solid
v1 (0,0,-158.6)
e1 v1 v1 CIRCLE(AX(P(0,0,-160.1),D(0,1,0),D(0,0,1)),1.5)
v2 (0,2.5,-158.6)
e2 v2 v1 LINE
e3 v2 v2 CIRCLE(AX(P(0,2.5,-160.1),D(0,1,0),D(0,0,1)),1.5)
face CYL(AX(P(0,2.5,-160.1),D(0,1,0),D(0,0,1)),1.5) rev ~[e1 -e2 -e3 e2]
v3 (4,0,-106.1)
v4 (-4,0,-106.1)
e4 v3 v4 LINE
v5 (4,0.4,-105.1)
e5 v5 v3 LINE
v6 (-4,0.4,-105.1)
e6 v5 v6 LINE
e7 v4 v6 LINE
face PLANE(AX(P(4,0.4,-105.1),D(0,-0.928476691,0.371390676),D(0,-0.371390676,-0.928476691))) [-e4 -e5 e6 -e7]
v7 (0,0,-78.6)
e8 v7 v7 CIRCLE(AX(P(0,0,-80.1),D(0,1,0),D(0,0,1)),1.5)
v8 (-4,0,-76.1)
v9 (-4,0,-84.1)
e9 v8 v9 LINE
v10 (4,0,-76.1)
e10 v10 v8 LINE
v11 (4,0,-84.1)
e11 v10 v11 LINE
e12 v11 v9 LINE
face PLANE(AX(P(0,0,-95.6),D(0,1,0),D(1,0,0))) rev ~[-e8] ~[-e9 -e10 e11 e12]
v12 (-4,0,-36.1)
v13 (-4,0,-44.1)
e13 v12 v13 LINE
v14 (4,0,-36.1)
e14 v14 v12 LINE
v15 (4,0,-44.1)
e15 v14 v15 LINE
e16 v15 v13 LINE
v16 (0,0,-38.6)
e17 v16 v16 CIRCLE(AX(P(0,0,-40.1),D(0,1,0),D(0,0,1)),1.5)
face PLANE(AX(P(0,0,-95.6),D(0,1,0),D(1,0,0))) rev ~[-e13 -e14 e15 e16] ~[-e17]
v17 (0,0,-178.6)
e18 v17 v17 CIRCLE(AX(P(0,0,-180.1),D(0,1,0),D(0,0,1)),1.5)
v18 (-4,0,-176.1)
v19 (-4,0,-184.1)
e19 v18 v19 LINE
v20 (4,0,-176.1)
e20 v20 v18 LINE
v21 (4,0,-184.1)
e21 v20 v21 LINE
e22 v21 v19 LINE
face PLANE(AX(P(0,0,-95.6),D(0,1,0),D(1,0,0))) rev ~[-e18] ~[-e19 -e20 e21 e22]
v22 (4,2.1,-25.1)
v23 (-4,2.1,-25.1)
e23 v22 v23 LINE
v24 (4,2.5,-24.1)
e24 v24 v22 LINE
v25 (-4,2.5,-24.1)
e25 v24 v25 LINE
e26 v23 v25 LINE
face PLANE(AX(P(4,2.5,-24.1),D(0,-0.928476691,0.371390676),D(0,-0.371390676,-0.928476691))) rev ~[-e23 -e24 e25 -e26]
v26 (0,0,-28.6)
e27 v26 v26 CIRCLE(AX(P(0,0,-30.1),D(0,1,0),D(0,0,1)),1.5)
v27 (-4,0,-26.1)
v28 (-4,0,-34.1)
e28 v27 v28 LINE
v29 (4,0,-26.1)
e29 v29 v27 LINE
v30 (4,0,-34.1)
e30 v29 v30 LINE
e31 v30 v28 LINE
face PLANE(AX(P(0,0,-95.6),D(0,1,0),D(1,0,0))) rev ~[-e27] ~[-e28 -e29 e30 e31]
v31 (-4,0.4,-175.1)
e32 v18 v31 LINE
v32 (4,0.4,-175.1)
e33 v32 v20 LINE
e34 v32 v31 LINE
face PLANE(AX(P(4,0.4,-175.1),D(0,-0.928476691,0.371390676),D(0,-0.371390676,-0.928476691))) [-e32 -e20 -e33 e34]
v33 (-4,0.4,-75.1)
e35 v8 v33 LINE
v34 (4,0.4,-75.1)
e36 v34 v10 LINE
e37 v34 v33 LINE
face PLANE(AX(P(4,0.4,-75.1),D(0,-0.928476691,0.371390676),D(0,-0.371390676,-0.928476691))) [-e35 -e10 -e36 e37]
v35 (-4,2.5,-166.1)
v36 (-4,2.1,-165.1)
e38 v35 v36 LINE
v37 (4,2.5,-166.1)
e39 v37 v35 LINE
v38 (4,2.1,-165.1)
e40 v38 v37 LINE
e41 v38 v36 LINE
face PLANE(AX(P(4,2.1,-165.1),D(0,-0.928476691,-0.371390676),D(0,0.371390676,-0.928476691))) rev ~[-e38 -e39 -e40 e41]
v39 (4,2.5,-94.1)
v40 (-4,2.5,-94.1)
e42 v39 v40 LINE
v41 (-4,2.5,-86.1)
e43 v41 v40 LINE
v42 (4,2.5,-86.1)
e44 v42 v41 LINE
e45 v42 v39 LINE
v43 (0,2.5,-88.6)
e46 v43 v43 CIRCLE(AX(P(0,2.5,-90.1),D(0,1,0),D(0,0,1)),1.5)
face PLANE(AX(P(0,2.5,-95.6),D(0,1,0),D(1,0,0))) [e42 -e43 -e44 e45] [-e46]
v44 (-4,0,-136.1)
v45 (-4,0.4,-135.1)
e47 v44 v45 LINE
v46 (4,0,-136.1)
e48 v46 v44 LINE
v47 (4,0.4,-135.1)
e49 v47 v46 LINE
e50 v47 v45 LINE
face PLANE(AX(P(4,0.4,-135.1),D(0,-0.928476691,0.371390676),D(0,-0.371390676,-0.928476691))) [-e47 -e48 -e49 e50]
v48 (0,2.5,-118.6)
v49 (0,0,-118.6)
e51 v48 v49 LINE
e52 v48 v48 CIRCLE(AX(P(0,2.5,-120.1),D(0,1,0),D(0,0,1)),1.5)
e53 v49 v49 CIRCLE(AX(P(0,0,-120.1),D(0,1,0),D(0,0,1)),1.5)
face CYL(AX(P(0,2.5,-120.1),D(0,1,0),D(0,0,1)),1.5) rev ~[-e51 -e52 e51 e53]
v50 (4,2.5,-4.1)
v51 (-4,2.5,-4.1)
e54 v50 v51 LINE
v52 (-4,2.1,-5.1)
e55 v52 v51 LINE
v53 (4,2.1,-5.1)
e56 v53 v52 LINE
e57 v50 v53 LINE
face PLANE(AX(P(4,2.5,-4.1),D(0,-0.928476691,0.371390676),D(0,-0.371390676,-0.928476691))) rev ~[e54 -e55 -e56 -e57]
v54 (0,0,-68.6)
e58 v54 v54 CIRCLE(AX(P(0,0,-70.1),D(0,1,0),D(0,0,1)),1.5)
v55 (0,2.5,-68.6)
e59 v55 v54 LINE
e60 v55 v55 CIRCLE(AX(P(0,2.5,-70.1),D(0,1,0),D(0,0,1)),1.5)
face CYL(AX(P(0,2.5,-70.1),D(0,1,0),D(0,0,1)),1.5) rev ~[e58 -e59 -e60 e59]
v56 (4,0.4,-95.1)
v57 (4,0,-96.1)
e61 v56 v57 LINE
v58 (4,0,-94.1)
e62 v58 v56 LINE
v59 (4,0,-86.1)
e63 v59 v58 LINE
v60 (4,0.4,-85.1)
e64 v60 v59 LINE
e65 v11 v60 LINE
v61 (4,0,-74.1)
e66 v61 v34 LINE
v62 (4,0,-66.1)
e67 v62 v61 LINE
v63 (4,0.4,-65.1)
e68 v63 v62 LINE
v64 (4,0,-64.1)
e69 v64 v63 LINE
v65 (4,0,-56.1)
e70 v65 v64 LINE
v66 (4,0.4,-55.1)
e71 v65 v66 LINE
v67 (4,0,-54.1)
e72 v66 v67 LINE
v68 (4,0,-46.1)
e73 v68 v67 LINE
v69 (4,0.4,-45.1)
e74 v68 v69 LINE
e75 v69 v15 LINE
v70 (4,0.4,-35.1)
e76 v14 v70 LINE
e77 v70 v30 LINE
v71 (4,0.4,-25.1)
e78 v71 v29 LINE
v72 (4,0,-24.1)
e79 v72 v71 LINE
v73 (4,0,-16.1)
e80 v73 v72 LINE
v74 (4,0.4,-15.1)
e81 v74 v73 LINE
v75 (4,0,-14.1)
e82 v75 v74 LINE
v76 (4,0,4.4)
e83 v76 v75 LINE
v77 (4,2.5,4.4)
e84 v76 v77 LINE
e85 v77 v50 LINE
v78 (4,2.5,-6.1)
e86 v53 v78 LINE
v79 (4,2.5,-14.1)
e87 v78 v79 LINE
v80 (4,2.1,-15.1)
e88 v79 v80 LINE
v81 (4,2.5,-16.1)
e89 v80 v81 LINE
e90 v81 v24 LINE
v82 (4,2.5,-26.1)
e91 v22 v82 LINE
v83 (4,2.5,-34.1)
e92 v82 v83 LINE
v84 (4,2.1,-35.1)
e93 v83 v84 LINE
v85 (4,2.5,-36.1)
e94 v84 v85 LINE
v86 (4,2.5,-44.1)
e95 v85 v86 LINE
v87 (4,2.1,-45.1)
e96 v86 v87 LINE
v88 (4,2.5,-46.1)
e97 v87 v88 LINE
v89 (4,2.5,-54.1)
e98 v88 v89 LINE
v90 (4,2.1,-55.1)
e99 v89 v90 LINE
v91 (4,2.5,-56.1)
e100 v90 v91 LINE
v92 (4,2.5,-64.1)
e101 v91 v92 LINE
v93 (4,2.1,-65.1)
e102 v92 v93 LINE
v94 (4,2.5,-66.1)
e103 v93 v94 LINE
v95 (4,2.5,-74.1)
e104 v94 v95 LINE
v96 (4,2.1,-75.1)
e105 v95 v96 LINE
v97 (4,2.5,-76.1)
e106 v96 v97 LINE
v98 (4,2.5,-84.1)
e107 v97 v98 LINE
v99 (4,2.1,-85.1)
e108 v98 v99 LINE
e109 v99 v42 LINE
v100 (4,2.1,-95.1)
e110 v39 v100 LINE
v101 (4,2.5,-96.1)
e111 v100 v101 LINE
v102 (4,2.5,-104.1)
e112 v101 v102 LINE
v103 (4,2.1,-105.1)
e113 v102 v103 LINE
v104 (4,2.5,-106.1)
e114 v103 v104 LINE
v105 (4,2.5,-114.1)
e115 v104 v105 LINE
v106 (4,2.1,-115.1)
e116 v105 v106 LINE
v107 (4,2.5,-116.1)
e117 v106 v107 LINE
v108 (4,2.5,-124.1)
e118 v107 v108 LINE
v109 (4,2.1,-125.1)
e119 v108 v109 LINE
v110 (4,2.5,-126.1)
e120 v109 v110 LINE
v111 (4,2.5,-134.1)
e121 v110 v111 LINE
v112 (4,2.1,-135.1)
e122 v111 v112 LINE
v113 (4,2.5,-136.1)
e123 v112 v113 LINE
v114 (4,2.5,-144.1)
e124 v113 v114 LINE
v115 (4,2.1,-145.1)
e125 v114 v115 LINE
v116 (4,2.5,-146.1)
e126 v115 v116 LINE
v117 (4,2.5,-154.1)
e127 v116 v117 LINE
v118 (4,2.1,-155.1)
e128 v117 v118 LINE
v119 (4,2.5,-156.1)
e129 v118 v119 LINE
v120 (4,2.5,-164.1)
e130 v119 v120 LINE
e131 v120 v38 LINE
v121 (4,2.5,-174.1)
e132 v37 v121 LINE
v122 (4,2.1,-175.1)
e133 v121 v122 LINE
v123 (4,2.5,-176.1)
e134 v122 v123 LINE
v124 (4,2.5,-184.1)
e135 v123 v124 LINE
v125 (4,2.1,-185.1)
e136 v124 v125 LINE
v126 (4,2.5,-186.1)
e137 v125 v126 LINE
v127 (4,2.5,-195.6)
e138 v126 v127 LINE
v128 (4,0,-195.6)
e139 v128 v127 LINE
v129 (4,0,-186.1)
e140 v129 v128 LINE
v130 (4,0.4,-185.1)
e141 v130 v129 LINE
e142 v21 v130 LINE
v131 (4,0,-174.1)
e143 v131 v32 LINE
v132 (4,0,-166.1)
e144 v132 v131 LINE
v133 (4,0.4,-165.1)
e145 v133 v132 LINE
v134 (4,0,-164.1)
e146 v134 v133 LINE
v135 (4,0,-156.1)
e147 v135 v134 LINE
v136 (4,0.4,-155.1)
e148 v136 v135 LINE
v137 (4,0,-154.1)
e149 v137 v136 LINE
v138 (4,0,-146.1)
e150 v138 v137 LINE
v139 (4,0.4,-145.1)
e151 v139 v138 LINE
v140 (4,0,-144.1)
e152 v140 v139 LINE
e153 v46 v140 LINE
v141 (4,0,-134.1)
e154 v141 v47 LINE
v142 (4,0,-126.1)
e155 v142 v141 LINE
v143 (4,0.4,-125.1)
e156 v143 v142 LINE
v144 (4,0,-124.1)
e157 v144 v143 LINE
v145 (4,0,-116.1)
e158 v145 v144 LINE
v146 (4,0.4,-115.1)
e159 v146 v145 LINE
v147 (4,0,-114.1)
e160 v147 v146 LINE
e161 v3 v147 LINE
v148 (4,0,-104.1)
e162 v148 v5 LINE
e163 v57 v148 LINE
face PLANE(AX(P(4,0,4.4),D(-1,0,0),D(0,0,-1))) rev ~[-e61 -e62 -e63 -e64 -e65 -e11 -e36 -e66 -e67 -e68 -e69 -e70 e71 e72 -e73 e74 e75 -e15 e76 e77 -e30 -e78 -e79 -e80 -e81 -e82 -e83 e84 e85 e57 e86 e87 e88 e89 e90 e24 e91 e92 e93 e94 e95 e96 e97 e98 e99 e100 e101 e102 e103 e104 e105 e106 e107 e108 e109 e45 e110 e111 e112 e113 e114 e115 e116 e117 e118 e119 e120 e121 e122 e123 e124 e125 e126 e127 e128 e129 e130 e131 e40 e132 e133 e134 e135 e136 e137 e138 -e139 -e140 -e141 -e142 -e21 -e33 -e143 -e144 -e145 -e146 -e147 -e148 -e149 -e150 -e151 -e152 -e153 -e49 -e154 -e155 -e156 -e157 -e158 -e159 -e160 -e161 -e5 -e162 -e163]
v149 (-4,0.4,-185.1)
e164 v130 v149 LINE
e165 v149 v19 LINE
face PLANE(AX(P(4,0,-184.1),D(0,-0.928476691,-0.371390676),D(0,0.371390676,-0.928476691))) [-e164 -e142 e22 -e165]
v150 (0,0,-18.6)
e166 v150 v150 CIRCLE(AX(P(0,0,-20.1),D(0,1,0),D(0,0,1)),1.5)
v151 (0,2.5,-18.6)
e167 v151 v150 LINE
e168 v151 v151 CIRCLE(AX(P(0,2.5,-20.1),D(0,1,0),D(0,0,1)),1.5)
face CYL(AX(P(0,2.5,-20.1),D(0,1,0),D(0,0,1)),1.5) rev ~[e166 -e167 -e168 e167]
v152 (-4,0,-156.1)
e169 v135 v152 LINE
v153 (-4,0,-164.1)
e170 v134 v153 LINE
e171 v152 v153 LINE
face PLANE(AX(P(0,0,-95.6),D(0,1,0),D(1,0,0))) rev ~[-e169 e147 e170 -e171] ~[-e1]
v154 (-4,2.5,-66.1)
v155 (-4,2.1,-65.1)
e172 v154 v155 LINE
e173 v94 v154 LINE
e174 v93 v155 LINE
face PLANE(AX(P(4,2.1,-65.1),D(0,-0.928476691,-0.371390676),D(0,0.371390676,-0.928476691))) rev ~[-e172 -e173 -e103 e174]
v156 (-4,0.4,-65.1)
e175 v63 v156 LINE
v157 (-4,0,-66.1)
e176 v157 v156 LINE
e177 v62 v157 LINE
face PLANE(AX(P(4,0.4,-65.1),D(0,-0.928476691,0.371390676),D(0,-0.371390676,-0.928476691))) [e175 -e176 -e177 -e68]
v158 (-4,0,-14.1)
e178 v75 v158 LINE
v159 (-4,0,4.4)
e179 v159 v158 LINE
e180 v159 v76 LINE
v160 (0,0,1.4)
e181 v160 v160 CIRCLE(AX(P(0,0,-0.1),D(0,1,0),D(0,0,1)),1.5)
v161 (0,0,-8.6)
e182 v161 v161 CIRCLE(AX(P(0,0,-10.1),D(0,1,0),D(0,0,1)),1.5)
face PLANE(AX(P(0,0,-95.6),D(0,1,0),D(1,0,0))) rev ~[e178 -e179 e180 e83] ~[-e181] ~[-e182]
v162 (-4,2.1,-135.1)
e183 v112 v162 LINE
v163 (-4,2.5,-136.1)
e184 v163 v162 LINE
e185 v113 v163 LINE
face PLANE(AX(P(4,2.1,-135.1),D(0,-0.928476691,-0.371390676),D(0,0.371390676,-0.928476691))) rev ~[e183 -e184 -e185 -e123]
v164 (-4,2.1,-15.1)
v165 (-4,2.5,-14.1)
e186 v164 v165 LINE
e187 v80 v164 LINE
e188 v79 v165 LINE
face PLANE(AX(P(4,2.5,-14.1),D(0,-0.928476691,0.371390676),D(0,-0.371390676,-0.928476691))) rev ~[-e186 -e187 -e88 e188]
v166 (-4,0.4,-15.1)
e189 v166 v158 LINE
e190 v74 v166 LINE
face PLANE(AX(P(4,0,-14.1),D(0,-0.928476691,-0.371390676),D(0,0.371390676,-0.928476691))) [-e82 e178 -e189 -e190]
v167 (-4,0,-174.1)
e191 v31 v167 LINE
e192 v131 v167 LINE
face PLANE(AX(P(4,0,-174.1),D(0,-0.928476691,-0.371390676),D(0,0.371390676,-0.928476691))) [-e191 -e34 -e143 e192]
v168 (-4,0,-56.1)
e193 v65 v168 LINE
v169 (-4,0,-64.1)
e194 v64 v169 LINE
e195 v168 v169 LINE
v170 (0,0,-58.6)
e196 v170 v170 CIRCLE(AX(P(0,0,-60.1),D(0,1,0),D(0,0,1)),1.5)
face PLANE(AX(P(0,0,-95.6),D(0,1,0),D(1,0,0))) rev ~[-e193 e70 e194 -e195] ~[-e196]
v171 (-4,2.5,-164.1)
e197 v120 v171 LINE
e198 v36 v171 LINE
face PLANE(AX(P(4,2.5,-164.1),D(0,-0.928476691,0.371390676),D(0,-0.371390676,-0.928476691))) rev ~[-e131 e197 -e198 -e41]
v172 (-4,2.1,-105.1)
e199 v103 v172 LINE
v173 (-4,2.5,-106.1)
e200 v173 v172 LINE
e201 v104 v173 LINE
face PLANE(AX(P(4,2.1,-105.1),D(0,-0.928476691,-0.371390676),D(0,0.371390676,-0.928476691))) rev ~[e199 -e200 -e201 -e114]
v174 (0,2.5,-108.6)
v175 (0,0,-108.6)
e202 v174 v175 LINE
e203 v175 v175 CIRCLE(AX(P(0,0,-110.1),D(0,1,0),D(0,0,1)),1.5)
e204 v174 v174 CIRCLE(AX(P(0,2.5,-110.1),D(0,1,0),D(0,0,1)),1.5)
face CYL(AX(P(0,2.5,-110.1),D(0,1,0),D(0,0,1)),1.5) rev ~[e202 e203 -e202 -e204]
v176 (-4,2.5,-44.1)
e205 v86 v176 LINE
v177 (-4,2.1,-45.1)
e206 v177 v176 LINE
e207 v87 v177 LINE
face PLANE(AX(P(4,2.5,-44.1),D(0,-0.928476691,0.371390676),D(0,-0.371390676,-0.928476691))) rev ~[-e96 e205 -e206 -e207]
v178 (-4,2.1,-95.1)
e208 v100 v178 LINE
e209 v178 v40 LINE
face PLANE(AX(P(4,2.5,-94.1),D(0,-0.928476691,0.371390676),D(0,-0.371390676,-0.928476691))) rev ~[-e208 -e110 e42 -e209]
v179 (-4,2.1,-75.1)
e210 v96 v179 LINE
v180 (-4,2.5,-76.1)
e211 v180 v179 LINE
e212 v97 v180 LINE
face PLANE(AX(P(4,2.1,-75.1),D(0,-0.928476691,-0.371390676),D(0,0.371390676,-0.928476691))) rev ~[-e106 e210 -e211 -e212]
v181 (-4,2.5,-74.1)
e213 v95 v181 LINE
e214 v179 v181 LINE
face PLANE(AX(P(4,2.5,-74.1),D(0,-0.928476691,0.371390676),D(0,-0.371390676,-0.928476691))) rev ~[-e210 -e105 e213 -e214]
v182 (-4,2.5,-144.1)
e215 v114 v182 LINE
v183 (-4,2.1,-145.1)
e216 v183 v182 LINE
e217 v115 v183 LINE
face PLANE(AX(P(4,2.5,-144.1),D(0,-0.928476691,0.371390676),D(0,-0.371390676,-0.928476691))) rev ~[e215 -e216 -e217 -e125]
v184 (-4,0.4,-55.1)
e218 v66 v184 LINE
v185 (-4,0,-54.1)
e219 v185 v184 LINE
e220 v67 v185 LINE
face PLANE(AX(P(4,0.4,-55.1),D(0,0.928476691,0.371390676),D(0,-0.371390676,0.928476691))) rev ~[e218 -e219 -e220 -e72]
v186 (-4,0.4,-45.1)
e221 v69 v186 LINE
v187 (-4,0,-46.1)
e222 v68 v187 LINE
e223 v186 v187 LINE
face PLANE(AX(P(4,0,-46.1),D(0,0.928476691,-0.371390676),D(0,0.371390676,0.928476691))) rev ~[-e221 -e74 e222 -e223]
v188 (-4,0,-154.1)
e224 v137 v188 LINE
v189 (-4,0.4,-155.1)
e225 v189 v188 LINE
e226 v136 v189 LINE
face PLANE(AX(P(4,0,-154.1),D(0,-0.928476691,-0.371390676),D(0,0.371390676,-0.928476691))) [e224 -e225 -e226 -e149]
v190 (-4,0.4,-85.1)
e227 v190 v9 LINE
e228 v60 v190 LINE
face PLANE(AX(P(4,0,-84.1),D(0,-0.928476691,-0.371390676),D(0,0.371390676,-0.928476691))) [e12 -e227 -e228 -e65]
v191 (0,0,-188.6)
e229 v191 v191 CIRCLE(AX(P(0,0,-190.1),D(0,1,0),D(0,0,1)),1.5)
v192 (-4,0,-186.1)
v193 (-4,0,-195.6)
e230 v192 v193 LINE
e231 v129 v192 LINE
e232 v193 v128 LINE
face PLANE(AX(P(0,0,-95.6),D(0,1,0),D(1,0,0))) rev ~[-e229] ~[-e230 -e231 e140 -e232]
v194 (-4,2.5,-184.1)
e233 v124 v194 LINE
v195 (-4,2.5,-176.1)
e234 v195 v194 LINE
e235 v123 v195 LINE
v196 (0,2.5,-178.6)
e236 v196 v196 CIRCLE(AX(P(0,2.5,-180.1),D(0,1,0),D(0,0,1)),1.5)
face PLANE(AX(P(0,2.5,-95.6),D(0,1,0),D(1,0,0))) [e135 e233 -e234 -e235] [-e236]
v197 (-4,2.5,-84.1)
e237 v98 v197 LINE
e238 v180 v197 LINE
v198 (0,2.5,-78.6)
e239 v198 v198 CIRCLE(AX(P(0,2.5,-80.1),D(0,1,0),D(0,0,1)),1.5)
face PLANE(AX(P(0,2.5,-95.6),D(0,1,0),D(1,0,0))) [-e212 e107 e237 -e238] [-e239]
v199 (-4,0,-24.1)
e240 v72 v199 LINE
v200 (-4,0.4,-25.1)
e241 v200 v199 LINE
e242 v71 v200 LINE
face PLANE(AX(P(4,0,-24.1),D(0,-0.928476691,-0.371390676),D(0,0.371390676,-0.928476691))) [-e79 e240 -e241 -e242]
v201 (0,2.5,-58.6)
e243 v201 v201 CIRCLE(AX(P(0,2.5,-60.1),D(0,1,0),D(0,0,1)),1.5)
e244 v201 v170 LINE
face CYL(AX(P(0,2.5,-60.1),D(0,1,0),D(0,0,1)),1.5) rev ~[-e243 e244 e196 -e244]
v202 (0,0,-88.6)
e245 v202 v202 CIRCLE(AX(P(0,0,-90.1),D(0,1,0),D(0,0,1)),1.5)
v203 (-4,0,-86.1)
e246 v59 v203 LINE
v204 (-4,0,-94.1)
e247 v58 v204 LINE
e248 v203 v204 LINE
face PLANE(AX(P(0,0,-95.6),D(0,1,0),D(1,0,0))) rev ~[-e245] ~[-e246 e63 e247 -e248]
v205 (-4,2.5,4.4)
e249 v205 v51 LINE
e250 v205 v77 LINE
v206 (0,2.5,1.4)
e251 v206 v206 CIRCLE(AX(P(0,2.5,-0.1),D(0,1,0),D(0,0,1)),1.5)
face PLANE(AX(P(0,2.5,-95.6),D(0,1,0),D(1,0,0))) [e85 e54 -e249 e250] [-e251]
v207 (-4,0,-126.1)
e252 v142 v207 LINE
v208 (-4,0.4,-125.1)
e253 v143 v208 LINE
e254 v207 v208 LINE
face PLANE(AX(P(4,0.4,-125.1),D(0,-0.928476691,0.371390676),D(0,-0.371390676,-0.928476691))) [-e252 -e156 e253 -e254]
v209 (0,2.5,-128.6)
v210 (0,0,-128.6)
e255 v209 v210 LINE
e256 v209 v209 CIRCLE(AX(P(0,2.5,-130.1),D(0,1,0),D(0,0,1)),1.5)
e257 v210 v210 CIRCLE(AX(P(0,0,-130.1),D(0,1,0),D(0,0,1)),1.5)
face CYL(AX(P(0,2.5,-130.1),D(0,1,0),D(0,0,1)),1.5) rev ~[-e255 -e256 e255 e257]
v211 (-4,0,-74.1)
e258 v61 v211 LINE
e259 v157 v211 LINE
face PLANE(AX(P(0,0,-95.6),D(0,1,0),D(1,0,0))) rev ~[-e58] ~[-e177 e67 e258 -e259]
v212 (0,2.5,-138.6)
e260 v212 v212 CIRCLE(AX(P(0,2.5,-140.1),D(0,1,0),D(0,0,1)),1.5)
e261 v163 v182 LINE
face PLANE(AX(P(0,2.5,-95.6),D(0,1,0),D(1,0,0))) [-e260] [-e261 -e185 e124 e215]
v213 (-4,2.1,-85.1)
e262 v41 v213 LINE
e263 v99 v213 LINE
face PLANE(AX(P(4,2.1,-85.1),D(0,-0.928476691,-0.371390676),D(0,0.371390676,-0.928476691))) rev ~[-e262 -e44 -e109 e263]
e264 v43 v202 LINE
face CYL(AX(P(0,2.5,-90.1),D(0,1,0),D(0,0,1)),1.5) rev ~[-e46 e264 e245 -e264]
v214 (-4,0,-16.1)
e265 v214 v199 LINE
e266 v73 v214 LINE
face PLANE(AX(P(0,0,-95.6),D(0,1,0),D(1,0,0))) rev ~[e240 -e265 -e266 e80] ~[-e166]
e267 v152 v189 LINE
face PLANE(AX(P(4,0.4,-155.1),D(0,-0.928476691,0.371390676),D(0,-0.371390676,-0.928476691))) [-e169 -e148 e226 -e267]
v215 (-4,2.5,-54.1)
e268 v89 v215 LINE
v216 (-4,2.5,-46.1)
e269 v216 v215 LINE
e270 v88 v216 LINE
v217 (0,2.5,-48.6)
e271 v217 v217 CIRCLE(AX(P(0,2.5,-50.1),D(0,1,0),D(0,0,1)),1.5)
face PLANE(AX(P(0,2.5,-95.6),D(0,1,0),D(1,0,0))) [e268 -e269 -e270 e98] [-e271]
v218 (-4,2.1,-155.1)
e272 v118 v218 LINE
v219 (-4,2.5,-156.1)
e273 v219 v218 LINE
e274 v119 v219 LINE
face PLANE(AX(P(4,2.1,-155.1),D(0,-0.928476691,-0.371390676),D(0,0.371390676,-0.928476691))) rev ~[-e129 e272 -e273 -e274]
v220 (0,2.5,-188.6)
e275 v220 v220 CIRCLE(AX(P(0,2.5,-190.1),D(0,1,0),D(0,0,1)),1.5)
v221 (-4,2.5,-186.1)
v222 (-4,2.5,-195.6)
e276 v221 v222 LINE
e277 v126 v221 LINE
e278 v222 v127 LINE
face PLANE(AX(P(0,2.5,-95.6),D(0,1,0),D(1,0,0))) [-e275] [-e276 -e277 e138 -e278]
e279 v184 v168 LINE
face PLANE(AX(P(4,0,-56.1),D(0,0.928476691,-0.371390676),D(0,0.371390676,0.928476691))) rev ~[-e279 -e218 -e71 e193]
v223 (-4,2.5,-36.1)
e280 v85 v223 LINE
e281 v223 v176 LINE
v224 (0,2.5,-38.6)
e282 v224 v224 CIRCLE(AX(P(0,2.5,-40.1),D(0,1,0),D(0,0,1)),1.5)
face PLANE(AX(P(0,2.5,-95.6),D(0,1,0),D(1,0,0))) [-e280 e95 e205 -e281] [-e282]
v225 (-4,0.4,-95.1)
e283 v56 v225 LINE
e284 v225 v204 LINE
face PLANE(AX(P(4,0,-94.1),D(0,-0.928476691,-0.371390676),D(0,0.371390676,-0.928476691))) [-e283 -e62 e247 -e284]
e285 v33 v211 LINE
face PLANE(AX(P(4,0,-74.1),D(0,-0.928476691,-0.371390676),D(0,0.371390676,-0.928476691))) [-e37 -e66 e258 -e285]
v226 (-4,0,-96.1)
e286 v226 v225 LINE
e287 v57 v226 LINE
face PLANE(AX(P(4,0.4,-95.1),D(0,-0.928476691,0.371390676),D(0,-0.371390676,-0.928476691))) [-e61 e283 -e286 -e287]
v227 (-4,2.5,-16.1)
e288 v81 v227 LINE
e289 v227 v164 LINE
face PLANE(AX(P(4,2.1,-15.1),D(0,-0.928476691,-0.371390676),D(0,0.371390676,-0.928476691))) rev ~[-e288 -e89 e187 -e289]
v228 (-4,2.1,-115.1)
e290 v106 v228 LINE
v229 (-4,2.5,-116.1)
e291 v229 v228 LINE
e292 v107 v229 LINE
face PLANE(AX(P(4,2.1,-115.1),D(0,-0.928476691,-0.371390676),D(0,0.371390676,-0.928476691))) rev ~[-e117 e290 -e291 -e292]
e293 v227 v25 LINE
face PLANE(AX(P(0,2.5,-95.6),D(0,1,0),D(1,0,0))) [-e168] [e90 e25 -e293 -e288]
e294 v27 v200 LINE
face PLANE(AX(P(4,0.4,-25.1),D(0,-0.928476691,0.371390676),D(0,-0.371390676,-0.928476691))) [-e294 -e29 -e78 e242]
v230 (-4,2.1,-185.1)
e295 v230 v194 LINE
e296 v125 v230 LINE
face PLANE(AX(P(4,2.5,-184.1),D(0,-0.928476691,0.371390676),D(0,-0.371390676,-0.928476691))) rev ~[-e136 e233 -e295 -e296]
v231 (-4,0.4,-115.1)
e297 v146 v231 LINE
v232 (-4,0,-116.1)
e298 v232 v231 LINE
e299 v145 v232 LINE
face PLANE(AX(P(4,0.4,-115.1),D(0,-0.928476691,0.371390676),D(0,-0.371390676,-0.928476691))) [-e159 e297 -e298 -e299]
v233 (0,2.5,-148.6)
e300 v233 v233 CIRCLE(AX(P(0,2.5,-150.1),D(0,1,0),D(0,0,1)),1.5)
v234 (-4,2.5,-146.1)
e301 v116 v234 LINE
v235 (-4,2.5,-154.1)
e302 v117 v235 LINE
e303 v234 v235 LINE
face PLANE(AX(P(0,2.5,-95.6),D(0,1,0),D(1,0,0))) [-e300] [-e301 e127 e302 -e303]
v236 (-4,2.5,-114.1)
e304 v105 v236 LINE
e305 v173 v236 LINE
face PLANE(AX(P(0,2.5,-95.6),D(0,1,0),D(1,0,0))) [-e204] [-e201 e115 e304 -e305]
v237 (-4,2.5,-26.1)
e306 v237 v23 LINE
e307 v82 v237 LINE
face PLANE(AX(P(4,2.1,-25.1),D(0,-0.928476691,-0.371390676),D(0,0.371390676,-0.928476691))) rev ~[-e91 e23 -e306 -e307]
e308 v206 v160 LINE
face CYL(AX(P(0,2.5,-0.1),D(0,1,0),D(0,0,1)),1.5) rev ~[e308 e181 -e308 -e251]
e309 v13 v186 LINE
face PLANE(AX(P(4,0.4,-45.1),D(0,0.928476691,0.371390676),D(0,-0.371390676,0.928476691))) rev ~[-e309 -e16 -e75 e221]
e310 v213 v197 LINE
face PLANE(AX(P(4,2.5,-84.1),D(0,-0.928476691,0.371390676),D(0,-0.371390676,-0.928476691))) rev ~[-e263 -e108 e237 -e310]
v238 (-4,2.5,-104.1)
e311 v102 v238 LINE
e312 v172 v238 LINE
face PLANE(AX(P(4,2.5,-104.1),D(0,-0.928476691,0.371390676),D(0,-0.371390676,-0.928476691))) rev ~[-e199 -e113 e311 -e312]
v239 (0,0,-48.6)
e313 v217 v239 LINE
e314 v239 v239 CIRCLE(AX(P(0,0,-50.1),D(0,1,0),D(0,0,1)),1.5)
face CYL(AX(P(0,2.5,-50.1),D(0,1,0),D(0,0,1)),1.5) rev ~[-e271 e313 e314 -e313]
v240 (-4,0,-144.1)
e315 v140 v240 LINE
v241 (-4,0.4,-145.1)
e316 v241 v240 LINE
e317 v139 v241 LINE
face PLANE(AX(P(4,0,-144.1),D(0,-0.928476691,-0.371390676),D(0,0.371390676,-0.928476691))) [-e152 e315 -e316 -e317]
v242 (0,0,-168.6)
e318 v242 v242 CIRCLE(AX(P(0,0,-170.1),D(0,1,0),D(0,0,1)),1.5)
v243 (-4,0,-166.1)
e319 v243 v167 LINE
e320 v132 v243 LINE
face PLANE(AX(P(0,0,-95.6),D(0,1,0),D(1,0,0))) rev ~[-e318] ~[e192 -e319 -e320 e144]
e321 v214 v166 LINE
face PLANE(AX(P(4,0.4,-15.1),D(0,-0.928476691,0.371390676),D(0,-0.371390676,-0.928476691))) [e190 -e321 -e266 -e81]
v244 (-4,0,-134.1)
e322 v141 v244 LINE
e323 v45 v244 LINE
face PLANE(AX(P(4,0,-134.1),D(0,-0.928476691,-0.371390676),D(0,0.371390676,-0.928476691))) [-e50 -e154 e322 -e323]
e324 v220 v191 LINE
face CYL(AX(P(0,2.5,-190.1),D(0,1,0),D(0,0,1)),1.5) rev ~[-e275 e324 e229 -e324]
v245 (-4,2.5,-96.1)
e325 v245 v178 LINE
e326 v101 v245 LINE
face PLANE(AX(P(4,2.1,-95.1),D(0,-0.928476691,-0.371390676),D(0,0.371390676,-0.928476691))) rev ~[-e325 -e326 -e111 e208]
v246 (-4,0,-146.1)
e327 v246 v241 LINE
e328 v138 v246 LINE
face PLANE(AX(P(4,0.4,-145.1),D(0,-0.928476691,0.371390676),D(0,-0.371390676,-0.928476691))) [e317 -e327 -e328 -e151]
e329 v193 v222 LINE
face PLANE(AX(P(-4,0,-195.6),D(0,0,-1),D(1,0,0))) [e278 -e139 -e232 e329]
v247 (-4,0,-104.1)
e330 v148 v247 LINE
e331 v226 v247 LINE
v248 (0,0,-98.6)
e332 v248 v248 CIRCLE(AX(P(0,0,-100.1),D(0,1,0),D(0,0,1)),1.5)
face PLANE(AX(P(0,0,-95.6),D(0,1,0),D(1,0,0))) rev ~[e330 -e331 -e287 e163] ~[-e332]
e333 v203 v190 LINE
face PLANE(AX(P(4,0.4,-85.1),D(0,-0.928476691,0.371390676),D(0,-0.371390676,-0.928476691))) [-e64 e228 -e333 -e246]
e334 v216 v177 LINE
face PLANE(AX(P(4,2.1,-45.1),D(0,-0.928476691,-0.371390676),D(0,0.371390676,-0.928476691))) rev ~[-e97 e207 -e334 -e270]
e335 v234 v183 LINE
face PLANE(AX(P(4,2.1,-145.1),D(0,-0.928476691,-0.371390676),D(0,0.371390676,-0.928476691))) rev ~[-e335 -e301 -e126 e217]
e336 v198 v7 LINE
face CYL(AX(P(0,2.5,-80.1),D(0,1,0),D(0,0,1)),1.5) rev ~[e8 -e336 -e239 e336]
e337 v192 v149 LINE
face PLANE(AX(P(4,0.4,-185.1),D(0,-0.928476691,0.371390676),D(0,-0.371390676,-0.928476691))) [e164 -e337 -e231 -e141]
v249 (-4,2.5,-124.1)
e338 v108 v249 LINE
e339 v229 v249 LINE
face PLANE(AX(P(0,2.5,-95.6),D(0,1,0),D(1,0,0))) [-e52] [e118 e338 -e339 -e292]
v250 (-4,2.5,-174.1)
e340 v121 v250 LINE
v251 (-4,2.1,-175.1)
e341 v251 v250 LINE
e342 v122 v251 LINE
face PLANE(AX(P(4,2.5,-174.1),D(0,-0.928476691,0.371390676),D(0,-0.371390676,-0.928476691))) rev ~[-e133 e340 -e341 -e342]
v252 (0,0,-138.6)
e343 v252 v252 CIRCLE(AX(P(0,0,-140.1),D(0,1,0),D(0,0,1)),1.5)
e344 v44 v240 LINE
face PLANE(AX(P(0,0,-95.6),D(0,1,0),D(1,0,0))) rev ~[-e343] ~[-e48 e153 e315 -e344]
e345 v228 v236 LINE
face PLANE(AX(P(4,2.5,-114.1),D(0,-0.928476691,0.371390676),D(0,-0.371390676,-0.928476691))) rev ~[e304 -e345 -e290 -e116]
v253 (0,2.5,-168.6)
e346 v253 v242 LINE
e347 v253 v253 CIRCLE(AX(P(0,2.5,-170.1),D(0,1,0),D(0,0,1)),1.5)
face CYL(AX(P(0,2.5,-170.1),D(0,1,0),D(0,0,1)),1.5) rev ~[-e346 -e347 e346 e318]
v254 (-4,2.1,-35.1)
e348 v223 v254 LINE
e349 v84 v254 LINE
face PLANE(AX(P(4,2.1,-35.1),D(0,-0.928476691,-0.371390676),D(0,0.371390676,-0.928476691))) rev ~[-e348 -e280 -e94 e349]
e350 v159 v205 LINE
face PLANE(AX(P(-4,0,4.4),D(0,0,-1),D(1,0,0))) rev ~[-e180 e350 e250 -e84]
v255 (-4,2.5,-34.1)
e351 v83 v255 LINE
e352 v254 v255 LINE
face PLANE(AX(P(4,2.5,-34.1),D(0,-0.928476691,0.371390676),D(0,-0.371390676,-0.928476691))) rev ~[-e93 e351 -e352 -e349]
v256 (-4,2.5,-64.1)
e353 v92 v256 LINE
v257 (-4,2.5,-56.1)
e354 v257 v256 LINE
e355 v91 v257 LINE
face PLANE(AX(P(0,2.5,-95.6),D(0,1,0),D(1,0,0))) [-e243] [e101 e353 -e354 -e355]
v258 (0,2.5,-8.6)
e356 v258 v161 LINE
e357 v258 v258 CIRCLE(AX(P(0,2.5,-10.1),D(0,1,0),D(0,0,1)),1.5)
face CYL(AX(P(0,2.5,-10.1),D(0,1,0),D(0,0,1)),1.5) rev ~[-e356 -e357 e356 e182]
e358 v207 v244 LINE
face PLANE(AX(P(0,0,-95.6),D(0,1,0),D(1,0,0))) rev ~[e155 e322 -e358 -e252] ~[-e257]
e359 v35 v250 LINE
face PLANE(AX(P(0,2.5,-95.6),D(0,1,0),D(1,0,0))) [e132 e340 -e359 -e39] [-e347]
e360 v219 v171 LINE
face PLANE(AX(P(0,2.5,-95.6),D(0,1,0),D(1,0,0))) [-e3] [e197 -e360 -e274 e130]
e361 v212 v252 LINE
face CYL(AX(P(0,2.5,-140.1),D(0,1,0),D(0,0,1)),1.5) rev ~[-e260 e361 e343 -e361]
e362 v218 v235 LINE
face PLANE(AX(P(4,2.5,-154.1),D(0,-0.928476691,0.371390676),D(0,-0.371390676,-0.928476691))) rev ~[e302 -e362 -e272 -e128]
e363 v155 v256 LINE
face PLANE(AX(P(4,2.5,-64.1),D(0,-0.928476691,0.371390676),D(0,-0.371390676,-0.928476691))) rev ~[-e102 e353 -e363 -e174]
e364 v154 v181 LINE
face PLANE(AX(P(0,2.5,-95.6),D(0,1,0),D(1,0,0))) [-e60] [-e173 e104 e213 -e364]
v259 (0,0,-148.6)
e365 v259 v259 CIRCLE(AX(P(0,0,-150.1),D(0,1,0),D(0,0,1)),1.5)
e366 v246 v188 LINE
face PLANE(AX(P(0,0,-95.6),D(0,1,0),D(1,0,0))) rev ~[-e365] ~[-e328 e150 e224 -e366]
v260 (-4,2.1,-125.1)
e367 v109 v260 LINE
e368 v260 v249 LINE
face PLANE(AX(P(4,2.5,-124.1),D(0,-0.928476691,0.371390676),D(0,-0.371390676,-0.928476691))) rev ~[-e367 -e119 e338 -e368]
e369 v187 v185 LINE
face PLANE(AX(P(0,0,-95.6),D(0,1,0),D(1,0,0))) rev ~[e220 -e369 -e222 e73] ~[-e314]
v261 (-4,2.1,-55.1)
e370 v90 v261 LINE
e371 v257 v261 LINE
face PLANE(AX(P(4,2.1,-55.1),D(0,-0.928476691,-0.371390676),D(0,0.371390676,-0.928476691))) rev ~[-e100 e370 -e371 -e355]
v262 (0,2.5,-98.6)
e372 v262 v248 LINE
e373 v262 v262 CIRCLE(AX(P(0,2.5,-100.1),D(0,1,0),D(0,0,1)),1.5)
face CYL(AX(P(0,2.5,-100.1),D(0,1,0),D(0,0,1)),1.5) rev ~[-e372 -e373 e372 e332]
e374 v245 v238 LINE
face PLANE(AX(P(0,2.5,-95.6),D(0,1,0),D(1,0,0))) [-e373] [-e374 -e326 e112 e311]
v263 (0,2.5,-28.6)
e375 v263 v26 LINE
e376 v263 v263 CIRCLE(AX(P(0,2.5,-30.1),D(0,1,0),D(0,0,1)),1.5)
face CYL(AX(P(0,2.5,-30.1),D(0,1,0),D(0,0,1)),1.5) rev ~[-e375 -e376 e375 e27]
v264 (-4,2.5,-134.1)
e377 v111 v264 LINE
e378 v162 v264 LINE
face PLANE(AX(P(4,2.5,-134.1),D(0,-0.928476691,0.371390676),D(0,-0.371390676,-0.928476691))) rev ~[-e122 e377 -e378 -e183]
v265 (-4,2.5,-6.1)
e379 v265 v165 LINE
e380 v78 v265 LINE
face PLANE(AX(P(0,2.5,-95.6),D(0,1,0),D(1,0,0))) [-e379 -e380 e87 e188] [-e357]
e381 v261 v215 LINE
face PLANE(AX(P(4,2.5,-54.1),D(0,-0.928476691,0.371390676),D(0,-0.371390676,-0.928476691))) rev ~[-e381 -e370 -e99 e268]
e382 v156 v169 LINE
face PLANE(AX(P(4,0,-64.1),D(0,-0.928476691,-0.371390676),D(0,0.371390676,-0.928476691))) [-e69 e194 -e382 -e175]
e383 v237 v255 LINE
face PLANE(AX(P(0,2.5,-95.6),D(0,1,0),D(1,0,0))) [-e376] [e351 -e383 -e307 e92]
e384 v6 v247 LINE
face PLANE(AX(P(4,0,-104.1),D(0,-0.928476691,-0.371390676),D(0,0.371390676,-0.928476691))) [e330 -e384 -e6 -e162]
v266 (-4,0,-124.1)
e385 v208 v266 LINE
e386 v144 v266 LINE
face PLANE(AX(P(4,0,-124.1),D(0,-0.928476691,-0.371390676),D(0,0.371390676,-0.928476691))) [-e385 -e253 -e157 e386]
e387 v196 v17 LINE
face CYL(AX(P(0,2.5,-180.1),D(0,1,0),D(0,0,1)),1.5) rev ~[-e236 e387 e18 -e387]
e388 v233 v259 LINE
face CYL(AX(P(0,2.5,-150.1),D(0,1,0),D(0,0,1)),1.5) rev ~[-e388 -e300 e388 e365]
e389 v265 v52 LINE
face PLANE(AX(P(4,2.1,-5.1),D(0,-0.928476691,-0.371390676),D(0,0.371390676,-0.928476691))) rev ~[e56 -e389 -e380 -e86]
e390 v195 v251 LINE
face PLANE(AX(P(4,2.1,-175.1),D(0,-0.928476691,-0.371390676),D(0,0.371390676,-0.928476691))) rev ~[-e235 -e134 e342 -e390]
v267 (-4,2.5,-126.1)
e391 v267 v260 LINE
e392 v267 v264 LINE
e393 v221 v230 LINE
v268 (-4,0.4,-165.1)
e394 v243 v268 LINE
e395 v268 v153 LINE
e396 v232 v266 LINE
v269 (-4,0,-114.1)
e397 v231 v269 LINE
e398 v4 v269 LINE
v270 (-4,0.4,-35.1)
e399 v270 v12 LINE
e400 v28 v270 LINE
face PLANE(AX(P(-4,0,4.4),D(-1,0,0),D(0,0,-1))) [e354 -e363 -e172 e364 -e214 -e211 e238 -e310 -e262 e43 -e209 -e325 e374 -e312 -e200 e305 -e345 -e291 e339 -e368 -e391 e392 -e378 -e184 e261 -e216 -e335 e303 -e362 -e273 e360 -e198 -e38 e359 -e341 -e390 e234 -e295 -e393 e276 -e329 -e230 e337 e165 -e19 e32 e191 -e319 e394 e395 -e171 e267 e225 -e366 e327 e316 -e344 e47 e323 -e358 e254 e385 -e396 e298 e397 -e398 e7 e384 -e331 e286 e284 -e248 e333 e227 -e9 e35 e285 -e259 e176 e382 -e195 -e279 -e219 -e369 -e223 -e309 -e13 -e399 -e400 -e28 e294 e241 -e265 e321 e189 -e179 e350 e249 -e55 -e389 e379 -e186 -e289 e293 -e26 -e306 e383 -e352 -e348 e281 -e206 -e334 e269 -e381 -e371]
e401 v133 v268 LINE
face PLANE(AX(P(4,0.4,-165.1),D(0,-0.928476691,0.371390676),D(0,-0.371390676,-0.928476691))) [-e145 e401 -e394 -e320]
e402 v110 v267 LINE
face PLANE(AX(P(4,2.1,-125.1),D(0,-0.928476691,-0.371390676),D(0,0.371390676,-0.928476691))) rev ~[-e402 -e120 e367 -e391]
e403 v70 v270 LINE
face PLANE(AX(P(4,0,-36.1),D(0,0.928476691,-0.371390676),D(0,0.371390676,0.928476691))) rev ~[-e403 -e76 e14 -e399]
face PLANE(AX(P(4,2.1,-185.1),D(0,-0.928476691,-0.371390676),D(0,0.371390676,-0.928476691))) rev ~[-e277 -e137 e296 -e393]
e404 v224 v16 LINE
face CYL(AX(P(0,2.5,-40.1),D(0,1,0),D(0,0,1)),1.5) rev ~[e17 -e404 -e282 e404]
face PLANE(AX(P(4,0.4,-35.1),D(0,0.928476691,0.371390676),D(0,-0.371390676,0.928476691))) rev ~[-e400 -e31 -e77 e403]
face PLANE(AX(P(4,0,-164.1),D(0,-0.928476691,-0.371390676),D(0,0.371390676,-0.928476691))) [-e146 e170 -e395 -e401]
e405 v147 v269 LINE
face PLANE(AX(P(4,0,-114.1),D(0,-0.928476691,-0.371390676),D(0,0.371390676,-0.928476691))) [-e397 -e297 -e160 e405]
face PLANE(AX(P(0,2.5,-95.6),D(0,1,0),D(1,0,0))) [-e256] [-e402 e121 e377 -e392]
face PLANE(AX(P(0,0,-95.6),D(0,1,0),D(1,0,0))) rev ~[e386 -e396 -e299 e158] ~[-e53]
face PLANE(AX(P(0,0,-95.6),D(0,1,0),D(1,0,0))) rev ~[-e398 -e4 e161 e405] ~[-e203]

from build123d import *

# Parameters (mm, degrees)
SKETCH1_W           = 8
SKETCH1_H           = 200
BOSS_EXTRUDE1_DEPTH = 2.5
SKETCH2_R           = 1.5
CUT_EXTRUDE1_DEPTH  = 196.656868011
CUT_EXTRUDE2_DEPTH  = 196.779493308


with BuildPart() as part:
    # Sketch1 → Boss-Extrude1 (new body)
    with BuildSketch(Plane(origin=(0, 0, 0), x_dir=(1, 0, 0), z_dir=(0, 1, 0))):
        with Locations((0, 95.6)):
            Rectangle(SKETCH1_W, SKETCH1_H)
    extrude(amount=BOSS_EXTRUDE1_DEPTH)

    # Sketch2 → Cut-Extrude1 (cut, through all)
    with BuildSketch(Plane(origin=(0, 2.5, 0), x_dir=(1, 0, 0), z_dir=(0, 1, 0))):
        with Locations(Location((0, 0.1, 0), (0, 0, 270))):
            Circle(SKETCH2_R)
        with Locations(Location((0, 10.1, 0), (0, 0, 270))):
            Circle(SKETCH2_R)
        with Locations(Location((0, 20.1, 0), (0, 0, 270))):
            Circle(SKETCH2_R)
        with Locations(Location((0, 30.1, 0), (0, 0, 270))):
            Circle(SKETCH2_R)
        with Locations(Location((0, 40.1, 0), (0, 0, 270))):
            Circle(SKETCH2_R)
        with Locations(Location((0, 50.1, 0), (0, 0, 270))):
            Circle(SKETCH2_R)
        with Locations(Location((0, 60.1, 0), (0, 0, 270))):
            Circle(SKETCH2_R)
        with Locations(Location((0, 70.1, 0), (0, 0, 270))):
            Circle(SKETCH2_R)
        with Locations(Location((0, 80.1, 0), (0, 0, 270))):
            Circle(SKETCH2_R)
        with Locations(Location((0, 90.1, 0), (0, 0, 270))):
            Circle(SKETCH2_R)
        with Locations(Location((0, 100.1, 0), (0, 0, 270))):
            Circle(SKETCH2_R)
        with Locations(Location((0, 110.1, 0), (0, 0, 270))):
            Circle(SKETCH2_R)
        with Locations(Location((0, 120.1, 0), (0, 0, 270))):
            Circle(SKETCH2_R)
        with Locations(Location((0, 130.1, 0), (0, 0, 270))):
            Circle(SKETCH2_R)
        with Locations(Location((0, 140.1, 0), (0, 0, 270))):
            Circle(SKETCH2_R)
        with Locations(Location((0, 150.1, 0), (0, 0, 270))):
            Circle(SKETCH2_R)
        with Locations(Location((0, 160.1, 0), (0, 0, 270))):
            Circle(SKETCH2_R)
        with Locations(Location((0, 170.1, 0), (0, 0, 270))):
            Circle(SKETCH2_R)
        with Locations(Location((0, 180.1, 0), (0, 0, 270))):
            Circle(SKETCH2_R)
        with Locations(Location((0, 190.1, 0), (0, 0, 270))):
            Circle(SKETCH2_R)
    extrude(amount=-CUT_EXTRUDE1_DEPTH, mode=Mode.SUBTRACT)

    # Sketch3 → Cut-Extrude2 (cut, through all)
    with BuildSketch(Plane(origin=(4, 0, 0), x_dir=(0, 0, -1), z_dir=(1, 0, 0))):
        Polygon((26.1, 2.5), (24.1, 2.5), (25.1, 2.1), align=None)
        Polygon((35.1, 0.4), (34.1, 0), (36.1, 0), align=None)
        Polygon((45.1, 0.4), (44.1, 0), (46.1, 0), align=None)
        Polygon((55.1, 0.4), (54.1, 0), (56.1, 0), align=None)
        Polygon((6.1, 2.5), (4.1, 2.5), (5.1, 2.1), align=None)
        Polygon((16.1, 2.5), (14.1, 2.5), (15.1, 2.1), align=None)
        Polygon((15.1, 0.4), (16.1, 0), (14.1, 0), align=None)
        Polygon((25.1, 0.4), (26.1, 0), (24.1, 0), align=None)
        Polygon((36.1, 2.5), (34.1, 2.5), (35.1, 2.1), align=None)
        Polygon((46.1, 2.5), (44.1, 2.5), (45.1, 2.1), align=None)
        Polygon((56.1, 2.5), (54.1, 2.5), (55.1, 2.1), align=None)
        Polygon((64.1, 2.5), (65.1, 2.1), (66.1, 2.5), align=None)
        Polygon((66.1, 0), (64.1, 0), (65.1, 0.4), align=None)
        Polygon((76.1, 2.5), (74.1, 2.5), (75.1, 2.1), align=None)
        Polygon((75.1, 0.4), (76.1, 0), (74.1, 0), align=None)
        Polygon((86.1, 2.5), (84.1, 2.5), (85.1, 2.1), align=None)
        Polygon((85.1, 0.4), (86.1, 0), (84.1, 0), align=None)
        Polygon((96.1, 2.5), (94.1, 2.5), (95.1, 2.1), align=None)
        Polygon((95.1, 0.4), (96.1, 0), (94.1, 0), align=None)
        Polygon((106.1, 2.5), (104.1, 2.5), (105.1, 2.1), align=None)
        Polygon((105.1, 0.4), (106.1, 0), (104.1, 0), align=None)
        Polygon((116.1, 2.5), (114.1, 2.5), (115.1, 2.1), align=None)
        Polygon((115.1, 0.4), (116.1, 0), (114.1, 0), align=None)
        Polygon((126.1, 2.5), (124.1, 2.5), (125.1, 2.1), align=None)
        Polygon((125.1, 0.4), (126.1, 0), (124.1, 0), align=None)
        Polygon((136.1, 2.5), (134.1, 2.5), (135.1, 2.1), align=None)
        Polygon((135.1, 0.4), (136.1, 0), (134.1, 0), align=None)
        Polygon((146.1, 2.5), (144.1, 2.5), (145.1, 2.1), align=None)
        Polygon((145.1, 0.4), (146.1, 0), (144.1, 0), align=None)
        Polygon((156.1, 2.5), (154.1, 2.5), (155.1, 2.1), align=None)
        Polygon((155.1, 0.4), (156.1, 0), (154.1, 0), align=None)
        Polygon((166.1, 2.5), (164.1, 2.5), (165.1, 2.1), align=None)
        Polygon((166.1, 0), (164.1, 0), (165.1, 0.4), align=None)
        Polygon((176.1, 2.5), (174.1, 2.5), (175.1, 2.1), align=None)
        Polygon((175.1, 0.4), (176.1, 0), (174.1, 0), align=None)
        Polygon((186.1, 2.5), (184.1, 2.5), (185.1, 2.1), align=None)
        Polygon((185.1, 0.4), (186.1, 0), (184.1, 0), align=None)
    extrude(amount=-CUT_EXTRUDE2_DEPTH, mode=Mode.SUBTRACT)


solid = part.part
